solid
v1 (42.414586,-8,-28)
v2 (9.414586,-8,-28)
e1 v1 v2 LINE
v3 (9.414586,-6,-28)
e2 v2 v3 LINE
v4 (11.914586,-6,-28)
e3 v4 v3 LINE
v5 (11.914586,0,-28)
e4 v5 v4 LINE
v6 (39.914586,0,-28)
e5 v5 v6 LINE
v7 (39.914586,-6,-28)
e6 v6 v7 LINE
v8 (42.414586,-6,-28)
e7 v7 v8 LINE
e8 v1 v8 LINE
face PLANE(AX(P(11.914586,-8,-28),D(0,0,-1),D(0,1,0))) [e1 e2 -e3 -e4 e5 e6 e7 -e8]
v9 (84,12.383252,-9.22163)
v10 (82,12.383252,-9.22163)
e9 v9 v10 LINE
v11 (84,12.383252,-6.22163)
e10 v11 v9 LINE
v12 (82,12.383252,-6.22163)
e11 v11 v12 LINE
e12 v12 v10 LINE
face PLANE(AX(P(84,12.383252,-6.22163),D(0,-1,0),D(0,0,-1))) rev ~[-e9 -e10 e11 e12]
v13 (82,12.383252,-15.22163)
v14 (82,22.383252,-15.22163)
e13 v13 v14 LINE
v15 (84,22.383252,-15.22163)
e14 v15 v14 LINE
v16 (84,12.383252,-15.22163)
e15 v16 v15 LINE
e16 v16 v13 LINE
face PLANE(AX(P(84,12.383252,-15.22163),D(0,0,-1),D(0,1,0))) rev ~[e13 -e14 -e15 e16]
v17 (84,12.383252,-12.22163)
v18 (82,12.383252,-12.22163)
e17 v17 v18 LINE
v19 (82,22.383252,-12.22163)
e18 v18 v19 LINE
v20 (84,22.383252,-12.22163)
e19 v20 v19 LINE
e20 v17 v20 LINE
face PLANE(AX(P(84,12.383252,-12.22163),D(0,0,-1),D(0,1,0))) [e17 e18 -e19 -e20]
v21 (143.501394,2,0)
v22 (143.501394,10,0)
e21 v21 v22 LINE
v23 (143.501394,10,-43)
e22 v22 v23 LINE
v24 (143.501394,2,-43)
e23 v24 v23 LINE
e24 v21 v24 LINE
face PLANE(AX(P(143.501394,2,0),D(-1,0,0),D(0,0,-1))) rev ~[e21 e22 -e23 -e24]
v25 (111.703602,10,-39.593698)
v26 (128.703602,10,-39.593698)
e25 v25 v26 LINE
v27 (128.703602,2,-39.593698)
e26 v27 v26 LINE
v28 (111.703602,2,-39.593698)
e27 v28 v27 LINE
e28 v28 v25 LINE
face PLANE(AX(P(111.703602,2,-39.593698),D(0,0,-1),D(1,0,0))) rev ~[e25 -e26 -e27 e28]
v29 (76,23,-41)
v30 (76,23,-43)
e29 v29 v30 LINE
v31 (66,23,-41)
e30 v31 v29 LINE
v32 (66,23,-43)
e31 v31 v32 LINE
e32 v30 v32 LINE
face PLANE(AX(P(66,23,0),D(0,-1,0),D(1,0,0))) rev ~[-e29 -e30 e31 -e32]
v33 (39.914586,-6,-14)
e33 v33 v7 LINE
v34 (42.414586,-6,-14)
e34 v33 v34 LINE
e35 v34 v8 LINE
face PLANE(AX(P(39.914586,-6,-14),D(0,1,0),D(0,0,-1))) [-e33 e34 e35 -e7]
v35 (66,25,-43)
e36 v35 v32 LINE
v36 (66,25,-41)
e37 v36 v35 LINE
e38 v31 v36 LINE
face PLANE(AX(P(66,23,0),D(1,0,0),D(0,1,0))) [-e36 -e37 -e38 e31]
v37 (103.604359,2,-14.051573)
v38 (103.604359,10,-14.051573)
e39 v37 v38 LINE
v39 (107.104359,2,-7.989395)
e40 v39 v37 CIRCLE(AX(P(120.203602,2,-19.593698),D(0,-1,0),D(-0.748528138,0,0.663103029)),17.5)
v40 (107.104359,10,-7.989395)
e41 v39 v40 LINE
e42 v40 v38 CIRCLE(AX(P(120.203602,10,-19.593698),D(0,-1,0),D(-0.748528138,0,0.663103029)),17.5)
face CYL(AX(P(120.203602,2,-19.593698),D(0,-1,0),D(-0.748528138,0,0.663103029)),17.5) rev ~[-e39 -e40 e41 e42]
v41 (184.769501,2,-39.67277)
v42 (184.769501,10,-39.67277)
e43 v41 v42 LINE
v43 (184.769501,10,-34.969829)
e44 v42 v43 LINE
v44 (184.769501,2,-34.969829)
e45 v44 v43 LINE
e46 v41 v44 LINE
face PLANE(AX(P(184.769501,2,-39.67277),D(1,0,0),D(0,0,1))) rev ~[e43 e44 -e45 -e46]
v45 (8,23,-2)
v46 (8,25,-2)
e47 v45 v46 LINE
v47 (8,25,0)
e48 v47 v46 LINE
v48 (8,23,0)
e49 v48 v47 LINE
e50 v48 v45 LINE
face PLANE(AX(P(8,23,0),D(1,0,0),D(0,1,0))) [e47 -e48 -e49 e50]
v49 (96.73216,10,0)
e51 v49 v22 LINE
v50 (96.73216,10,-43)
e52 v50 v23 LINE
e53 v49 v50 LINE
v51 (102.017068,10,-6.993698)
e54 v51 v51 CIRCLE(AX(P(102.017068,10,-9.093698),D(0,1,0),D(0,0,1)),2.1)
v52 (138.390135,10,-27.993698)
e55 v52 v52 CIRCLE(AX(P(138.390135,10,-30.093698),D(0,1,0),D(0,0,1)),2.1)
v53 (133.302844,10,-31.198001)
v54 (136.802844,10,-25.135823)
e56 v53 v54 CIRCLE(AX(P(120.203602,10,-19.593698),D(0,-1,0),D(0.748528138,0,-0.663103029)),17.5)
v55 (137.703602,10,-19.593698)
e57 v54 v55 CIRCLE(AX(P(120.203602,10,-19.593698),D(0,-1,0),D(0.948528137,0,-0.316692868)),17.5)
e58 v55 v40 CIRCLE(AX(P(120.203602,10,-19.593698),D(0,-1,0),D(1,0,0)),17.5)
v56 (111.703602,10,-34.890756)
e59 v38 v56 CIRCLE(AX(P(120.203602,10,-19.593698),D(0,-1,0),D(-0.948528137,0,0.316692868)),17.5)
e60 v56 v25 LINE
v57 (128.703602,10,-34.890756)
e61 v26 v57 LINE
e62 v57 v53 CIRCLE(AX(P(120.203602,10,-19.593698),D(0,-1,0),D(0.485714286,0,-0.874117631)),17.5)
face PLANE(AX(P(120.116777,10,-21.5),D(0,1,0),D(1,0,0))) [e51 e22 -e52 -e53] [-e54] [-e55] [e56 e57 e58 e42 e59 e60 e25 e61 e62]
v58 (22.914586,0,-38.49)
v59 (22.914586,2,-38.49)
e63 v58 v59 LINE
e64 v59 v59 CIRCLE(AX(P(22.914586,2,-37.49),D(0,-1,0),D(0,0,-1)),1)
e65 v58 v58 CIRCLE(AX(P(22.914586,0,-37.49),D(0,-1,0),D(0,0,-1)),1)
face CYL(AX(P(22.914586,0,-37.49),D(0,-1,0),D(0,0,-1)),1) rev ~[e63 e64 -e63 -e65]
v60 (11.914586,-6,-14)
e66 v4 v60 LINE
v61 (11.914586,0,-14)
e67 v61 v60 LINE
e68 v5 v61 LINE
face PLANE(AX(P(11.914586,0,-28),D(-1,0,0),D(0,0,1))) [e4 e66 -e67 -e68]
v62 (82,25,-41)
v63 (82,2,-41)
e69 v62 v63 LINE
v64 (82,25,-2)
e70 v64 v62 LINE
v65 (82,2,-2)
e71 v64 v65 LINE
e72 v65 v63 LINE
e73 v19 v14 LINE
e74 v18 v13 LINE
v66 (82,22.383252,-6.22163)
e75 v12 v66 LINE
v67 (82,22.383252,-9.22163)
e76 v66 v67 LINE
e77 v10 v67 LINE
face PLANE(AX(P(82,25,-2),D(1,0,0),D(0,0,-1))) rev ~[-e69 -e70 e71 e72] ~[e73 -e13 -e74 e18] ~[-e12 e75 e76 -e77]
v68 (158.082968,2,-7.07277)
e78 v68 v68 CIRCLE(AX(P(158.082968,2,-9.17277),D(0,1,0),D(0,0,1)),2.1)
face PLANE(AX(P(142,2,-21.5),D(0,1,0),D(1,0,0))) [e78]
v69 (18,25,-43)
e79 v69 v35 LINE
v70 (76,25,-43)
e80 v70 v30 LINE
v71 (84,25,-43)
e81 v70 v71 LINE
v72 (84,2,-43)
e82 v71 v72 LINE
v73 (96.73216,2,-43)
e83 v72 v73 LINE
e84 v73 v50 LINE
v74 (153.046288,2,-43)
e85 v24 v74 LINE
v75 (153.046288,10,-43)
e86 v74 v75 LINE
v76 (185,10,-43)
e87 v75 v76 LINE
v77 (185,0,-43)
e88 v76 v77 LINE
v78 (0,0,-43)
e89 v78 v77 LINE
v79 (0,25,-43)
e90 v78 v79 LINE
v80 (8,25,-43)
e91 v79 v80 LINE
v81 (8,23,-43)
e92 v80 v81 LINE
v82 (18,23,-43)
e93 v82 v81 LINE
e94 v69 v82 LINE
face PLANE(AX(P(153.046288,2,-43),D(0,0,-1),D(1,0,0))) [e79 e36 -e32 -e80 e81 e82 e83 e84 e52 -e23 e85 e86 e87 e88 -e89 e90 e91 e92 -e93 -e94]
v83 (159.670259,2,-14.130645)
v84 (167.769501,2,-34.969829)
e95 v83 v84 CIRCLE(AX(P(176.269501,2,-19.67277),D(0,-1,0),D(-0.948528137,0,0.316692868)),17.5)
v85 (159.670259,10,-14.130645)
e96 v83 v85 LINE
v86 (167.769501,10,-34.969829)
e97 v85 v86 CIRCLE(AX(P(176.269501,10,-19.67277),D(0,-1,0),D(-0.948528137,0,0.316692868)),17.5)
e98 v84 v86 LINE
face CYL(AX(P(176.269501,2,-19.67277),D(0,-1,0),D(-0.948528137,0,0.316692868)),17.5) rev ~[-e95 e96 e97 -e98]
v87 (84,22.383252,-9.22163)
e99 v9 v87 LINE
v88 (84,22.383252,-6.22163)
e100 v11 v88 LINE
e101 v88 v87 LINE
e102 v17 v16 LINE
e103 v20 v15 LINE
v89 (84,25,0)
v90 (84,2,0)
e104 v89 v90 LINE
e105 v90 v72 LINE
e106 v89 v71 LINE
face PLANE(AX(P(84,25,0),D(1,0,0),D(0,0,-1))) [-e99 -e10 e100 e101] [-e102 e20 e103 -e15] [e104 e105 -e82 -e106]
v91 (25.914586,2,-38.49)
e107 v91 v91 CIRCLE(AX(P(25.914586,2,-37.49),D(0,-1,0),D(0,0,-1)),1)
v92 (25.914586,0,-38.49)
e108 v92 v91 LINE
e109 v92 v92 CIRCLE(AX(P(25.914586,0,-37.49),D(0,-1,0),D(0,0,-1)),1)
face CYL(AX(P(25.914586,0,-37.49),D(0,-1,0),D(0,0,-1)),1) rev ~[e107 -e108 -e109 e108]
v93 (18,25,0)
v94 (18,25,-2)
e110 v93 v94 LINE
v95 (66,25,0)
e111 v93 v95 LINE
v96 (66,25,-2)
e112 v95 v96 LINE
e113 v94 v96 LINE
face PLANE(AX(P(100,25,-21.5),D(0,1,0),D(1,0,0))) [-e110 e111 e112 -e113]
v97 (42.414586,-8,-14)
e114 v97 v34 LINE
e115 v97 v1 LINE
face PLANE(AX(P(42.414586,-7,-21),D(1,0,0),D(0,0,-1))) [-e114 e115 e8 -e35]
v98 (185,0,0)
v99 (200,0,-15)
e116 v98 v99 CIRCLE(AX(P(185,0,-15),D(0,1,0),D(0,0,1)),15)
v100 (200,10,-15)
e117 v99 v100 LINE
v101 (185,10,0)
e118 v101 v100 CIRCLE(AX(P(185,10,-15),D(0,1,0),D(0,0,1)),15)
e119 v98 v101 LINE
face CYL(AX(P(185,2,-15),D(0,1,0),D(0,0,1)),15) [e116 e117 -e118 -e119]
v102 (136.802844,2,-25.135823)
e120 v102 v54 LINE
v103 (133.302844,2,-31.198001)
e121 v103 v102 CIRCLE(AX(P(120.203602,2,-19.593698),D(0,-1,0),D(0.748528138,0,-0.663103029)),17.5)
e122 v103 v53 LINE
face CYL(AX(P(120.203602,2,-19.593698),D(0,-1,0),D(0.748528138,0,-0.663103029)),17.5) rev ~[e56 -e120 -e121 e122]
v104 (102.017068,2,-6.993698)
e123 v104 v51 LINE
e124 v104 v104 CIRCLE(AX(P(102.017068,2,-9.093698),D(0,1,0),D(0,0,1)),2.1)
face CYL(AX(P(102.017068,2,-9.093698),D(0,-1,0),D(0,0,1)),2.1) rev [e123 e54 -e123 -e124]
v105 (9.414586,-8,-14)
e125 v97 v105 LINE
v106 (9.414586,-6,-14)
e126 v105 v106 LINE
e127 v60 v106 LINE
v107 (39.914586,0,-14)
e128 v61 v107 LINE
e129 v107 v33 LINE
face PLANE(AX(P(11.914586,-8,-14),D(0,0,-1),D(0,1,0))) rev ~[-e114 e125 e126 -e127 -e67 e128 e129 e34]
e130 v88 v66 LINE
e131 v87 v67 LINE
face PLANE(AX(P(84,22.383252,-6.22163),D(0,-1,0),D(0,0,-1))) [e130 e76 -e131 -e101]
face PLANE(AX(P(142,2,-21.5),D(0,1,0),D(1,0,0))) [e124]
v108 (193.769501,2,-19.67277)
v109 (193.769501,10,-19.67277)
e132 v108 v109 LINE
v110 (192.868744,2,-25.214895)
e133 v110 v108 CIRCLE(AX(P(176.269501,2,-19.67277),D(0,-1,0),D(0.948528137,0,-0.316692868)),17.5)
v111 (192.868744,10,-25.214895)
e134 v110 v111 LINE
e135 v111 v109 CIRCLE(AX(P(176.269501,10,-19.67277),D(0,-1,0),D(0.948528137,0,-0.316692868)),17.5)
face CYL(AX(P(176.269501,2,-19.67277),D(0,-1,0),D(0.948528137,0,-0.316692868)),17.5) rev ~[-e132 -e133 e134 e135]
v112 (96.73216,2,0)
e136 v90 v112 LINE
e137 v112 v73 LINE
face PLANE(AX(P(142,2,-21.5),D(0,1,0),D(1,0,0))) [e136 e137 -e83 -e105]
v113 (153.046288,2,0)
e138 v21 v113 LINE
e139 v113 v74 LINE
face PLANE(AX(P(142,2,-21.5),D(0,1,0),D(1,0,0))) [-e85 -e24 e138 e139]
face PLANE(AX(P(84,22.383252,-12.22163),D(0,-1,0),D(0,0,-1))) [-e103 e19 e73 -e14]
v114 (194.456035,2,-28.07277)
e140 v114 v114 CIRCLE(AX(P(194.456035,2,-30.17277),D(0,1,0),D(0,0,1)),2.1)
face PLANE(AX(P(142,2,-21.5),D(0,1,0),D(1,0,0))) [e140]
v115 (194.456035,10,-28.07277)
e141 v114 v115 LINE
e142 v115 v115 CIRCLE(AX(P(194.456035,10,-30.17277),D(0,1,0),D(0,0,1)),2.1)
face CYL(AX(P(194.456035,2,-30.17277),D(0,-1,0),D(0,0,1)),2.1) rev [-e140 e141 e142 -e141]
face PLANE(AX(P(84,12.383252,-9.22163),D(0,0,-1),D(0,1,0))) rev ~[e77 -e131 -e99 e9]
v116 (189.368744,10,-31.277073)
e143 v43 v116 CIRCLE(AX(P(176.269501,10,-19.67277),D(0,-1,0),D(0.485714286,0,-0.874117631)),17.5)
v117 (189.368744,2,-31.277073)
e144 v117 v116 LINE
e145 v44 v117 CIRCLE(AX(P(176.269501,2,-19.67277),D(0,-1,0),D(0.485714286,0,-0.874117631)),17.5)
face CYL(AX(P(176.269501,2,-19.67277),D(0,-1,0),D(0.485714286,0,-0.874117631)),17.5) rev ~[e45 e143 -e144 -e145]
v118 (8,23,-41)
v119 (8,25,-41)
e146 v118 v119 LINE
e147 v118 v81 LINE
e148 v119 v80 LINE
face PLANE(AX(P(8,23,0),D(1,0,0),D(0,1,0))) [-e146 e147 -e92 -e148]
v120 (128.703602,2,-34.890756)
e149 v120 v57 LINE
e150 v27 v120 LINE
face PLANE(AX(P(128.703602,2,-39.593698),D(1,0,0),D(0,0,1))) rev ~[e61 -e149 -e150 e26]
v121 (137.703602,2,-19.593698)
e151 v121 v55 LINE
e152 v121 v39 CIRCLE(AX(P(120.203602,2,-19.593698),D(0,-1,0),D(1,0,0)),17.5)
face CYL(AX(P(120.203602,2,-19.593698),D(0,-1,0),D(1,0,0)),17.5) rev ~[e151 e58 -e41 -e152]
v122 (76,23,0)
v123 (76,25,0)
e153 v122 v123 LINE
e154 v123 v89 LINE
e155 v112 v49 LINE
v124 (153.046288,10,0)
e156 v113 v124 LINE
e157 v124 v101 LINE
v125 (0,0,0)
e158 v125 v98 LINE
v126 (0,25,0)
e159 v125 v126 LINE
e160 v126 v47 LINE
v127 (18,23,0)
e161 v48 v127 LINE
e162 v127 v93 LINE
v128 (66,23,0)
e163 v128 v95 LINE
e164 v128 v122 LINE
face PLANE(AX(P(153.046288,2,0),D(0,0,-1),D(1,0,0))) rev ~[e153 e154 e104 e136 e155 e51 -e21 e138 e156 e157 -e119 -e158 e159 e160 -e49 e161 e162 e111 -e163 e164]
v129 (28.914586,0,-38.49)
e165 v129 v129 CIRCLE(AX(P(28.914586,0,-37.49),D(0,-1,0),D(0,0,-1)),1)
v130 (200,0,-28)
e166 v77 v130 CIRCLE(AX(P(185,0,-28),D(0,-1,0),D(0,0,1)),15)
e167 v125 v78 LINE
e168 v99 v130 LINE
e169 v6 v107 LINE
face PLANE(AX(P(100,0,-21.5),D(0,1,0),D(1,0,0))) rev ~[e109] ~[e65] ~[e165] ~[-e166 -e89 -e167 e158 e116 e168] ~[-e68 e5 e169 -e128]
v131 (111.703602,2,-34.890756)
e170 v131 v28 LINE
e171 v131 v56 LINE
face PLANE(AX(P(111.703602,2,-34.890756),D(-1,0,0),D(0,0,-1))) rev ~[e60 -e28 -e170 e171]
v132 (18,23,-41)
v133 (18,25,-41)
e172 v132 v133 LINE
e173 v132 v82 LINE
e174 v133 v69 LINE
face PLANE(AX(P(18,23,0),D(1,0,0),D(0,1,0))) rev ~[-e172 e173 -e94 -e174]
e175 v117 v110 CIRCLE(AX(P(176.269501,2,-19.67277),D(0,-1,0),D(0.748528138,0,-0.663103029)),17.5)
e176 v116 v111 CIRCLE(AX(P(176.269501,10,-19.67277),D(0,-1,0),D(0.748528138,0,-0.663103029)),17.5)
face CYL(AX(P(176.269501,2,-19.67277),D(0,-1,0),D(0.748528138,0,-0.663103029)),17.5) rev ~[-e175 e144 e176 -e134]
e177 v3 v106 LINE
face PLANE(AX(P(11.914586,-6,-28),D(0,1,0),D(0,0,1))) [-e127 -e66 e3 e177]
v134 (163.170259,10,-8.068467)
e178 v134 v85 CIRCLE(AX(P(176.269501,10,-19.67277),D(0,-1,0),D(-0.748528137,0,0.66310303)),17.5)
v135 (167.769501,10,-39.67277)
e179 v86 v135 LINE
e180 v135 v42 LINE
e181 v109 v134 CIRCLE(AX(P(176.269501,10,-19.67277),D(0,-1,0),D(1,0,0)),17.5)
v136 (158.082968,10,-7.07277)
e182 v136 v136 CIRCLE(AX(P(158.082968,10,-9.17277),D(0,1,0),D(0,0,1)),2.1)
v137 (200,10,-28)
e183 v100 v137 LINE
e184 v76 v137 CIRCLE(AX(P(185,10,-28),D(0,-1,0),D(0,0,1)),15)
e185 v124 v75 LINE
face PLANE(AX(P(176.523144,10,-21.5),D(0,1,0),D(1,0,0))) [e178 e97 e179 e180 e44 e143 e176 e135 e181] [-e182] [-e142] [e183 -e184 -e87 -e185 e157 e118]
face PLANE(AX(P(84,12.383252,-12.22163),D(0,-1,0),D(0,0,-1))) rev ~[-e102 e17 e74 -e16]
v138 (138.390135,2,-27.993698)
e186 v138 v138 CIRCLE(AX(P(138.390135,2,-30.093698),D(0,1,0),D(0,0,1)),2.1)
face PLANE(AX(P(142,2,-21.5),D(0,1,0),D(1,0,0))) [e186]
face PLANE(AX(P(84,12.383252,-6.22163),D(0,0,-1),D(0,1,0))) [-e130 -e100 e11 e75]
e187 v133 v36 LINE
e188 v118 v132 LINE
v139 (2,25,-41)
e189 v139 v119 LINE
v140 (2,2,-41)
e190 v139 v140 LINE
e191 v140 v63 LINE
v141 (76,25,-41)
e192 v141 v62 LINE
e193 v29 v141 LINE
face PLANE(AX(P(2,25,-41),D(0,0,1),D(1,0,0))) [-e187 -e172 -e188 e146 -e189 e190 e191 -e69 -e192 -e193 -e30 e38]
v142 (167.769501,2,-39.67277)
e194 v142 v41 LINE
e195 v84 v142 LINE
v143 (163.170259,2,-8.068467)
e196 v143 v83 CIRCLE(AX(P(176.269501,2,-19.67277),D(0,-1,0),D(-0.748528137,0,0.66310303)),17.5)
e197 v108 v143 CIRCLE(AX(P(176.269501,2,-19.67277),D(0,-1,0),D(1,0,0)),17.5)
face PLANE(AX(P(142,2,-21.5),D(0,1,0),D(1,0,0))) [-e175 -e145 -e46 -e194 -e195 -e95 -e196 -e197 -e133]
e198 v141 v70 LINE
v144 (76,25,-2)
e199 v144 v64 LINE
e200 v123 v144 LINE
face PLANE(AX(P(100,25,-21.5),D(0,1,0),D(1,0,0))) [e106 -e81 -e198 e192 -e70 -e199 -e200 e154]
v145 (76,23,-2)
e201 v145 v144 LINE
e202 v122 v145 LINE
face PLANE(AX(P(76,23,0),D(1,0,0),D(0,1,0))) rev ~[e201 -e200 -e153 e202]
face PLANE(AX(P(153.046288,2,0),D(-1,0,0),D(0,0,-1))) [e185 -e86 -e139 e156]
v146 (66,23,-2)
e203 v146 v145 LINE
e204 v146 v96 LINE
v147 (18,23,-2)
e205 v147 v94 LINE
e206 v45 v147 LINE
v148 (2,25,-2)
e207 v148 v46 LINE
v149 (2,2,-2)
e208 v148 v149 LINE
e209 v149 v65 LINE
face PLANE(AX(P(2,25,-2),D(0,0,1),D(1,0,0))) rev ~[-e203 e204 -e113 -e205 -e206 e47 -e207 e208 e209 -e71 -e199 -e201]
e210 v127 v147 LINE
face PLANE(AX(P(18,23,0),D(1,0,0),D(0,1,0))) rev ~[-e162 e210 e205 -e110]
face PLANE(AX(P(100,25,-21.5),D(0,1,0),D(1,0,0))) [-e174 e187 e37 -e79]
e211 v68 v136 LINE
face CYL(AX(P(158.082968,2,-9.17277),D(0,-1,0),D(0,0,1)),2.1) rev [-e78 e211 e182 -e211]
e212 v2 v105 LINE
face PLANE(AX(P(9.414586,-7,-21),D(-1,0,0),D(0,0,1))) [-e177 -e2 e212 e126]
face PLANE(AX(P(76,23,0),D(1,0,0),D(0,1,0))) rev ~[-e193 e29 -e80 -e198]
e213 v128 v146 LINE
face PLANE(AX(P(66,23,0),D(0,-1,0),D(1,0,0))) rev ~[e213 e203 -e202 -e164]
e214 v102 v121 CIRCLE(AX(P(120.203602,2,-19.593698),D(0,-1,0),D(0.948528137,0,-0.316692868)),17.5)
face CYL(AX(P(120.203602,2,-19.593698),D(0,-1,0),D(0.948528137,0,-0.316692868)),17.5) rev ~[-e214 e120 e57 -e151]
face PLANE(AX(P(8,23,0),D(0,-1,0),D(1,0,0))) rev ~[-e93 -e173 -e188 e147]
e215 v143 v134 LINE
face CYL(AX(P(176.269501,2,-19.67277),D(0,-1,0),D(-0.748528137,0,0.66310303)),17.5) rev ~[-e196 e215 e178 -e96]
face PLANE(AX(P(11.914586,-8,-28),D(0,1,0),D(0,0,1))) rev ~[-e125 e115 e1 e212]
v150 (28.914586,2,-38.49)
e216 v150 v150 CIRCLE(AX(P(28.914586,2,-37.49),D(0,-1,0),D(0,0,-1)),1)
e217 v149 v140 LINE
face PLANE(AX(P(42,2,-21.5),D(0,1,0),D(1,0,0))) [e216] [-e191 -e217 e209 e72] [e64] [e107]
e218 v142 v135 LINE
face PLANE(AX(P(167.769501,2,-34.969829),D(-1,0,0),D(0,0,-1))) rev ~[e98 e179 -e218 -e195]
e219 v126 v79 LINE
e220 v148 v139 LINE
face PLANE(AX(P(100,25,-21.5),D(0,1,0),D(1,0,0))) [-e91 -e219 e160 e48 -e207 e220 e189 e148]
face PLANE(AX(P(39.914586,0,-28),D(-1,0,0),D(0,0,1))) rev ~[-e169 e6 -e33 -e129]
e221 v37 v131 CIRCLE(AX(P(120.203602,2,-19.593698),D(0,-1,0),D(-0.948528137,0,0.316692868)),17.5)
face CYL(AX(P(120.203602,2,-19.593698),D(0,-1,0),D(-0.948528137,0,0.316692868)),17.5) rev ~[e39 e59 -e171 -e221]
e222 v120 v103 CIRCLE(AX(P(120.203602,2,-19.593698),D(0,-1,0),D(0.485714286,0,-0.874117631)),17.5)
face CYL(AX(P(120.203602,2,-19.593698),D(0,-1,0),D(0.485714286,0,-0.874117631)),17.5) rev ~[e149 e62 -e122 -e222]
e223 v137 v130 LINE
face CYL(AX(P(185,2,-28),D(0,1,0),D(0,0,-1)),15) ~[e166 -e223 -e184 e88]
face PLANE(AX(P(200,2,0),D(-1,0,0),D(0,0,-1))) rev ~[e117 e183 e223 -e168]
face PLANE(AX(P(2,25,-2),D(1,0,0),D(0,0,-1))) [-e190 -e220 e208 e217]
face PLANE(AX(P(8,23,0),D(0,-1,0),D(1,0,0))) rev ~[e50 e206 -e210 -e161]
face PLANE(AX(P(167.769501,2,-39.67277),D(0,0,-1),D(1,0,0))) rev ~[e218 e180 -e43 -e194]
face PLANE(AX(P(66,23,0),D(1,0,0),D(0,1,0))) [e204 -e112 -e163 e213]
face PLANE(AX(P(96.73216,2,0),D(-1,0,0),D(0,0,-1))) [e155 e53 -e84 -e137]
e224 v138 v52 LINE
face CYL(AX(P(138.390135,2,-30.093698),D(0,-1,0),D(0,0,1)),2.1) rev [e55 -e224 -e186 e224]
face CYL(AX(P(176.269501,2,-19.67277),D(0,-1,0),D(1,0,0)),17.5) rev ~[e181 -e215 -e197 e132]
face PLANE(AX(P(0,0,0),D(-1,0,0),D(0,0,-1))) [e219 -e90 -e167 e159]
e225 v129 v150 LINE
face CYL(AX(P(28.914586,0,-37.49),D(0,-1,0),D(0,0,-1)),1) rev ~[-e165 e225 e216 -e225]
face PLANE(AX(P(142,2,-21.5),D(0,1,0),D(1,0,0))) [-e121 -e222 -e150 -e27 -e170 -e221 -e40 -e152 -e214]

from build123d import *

# Parameters (mm, degrees)
SKETCH1_W           = 200
SKETCH1_H           = 43
BOSS_EXTRUDE1_DEPTH = 25
SKETCH2_W           = 80
SKETCH2_H           = 39
CUT_EXTRUDE1_DEPTH  = 23
SKETCH3_W           = 28
SKETCH3_H           = 14
BOSS_EXTRUDE2_DEPTH = 8
SKETCH4_W           = 14
SKETCH4_H           = 2
BOSS_EXTRUDE3_DEPTH = 2.5
SKETCH5_W           = 14
SKETCH5_H           = 2
BOSS_EXTRUDE4_DEPTH = 2.5
SKETCH6_R           = 1
CUT_EXTRUDE2_DEPTH  = 2
SKETCH7_W           = 116
SKETCH7_H           = 43
CUT_EXTRUDE3_DEPTH  = 23
SKETCH8_W           = 46.953712071
SKETCH8_H           = 43
SKETCH8_R           = 2.1
BOSS_EXTRUDE6_DEPTH = 8
SKETCH9_W           = 10
SKETCH9_H           = 2
CUT_EXTRUDE4_DEPTH  = 61
SKETCH10_W          = 46.769233888
SKETCH10_H          = 43
SKETCH10_R          = 2.1
BOSS_EXTRUDE7_DEPTH = 8
SKETCH11_W          = 3
SKETCH11_H          = 10
CUT_EXTRUDE5_DEPTH  = 8
FILLET1_R           = 15
FILLET2_R           = 15


with BuildPart() as part:
    # Sketch1 → Boss-Extrude1 (new body)
    with BuildSketch(Plane(origin=(0, 0, 0), x_dir=(1, 0, 0), z_dir=(0, 1, 0))):
        with Locations((100, 21.5)):
            Rectangle(SKETCH1_W, SKETCH1_H)
    extrude(amount=BOSS_EXTRUDE1_DEPTH)

    # Sketch2 → Cut-Extrude1 (cut)
    with BuildSketch(Plane(origin=(0, 25, 0), x_dir=(1, 0, 0), z_dir=(0, 1, 0))):
        with Locations((42, 21.5)):
            Rectangle(SKETCH2_W, SKETCH2_H)
    extrude(amount=-CUT_EXTRUDE1_DEPTH, mode=Mode.SUBTRACT)

    # Sketch3 → Boss-Extrude2 (add)
    with BuildSketch(Plane.XZ):
        with Locations((25.914586037, -21)):
            Rectangle(SKETCH3_W, SKETCH3_H)
    extrude(amount=BOSS_EXTRUDE2_DEPTH)

    # Sketch4 → Boss-Extrude3 (add)
    with BuildSketch(Plane(origin=(39.914586037, 0, 0), x_dir=(0, 0, -1), z_dir=(1, 0, 0))):
        with Locations((21, -7)):
            Rectangle(SKETCH4_W, SKETCH4_H)
    extrude(amount=BOSS_EXTRUDE3_DEPTH)

    # Sketch5 → Boss-Extrude4 (add)
    with BuildSketch(Plane.ZY.offset(-11.914586037)):
        with Locations((-21, -7)):
            Rectangle(SKETCH5_W, SKETCH5_H)
    extrude(amount=BOSS_EXTRUDE4_DEPTH)

    # Sketch6 → Cut-Extrude2 (cut)
    with BuildSketch(Plane.XZ):
        with Locations(Location((25.914586037, -37.49, 0), (0, 0, 270))):
            Circle(SKETCH6_R)
        with Locations(Location((28.914586037, -37.49, 0), (0, 0, 270))):
            Circle(SKETCH6_R)
        with Locations(Location((22.914586037, -37.49, 0), (0, 0, 270))):
            Circle(SKETCH6_R)
    extrude(amount=-CUT_EXTRUDE2_DEPTH, mode=Mode.SUBTRACT)

    # Sketch7 → Cut-Extrude3 (cut)
    with BuildSketch(Plane(origin=(0, 25, 0), x_dir=(1, 0, 0), z_dir=(0, 1, 0))):
        with Locations((142, 21.5)):
            Rectangle(SKETCH7_W, SKETCH7_H)
    extrude(amount=-CUT_EXTRUDE3_DEPTH, mode=Mode.SUBTRACT)

    # Sketch8 → Boss-Extrude6 (add)
    with BuildSketch(Plane(origin=(0, 2, 0), x_dir=(1, 0, 0), z_dir=(0, 1, 0))):
        with Locations((176.523143965, 21.5)):
            Rectangle(SKETCH8_W, SKETCH8_H)
        with BuildLine():
            Line((167.769501391, 39.672770255), (184.769501391, 39.672770255))
            Line((184.769501391, 39.672770255), (184.769501391, 34.969828795))
            ThreePointArc((184.769501391, 34.969828795), (187.225820525, 33.318614715), (189.368743796, 31.277073268))
            Line((189.368743796, 31.277073268), (192.70603487, 33.203859168))
            ThreePointArc((192.70603487, 33.203859168), (197.487123783, 31.922770255), (196.20603487, 27.141681341))
            Line((196.20603487, 27.141681341), (192.868743796, 25.214895441))
            ThreePointArc((192.868743796, 25.214895441), (193.542844178, 22.480194155), (193.769501391, 19.672770255))
            ThreePointArc((193.769501391, 19.672770255), (182.474872367, 3.309904642), (163.170258986, 8.068467242))
            Line((163.170258986, 8.068467242), (159.832967911, 6.141681341))
            ThreePointArc((159.832967911, 6.141681341), (155.051878998, 7.422770255), (156.332967911, 12.203859168))
            Line((156.332967911, 12.203859168), (159.670258986, 14.130645068))
            ThreePointArc((159.670258986, 14.130645068), (159.958128459, 26.012258646), (167.769501391, 34.969828795))
            Line((167.769501391, 34.969828795), (167.769501391, 39.672770255))
        make_face(mode=Mode.SUBTRACT)
        with BuildLine():
            Line((192.70603487, 33.203859168), (189.368743796, 31.277073268))
            ThreePointArc((189.368743796, 31.277073268), (191.424945957, 28.422770255), (192.868743796, 25.214895441))
            Line((192.868743796, 25.214895441), (196.20603487, 27.141681341))
            ThreePointArc((196.20603487, 27.141681341), (197.487123783, 31.922770255), (192.70603487, 33.203859168))
        make_face()
        with Locations(Location((194.45603487, 30.172770255, 0), (0, 0, 270))):
            Circle(SKETCH8_R, mode=Mode.SUBTRACT)
        with BuildLine():
            ThreePointArc((163.170258986, 8.068467242), (161.114056824, 10.922770255), (159.670258986, 14.130645068))
            Line((159.670258986, 14.130645068), (156.332967911, 12.203859168))
            ThreePointArc((156.332967911, 12.203859168), (155.051878998, 7.422770255), (159.832967911, 6.141681341))
            Line((159.832967911, 6.141681341), (163.170258986, 8.068467242))
        make_face()
        with Locations(Location((158.082967911, 9.172770255, 0), (0, 0, 270))):
            Circle(SKETCH8_R, mode=Mode.SUBTRACT)
    extrude(amount=BOSS_EXTRUDE6_DEPTH)

    # Sketch9 → Cut-Extrude4 (cut)
    with BuildSketch(Plane.XY):
        with Locations((13, 24)):
            Rectangle(SKETCH9_W, SKETCH9_H)
        with Locations((71, 24)):
            Rectangle(SKETCH9_W, SKETCH9_H)
    extrude(amount=-CUT_EXTRUDE4_DEPTH, mode=Mode.SUBTRACT)

    # Sketch10 → Boss-Extrude7 (add)
    with BuildSketch(Plane(origin=(0, 2, 0), x_dir=(1, 0, 0), z_dir=(0, 1, 0))):
        with Locations((120.116777129, 21.5)):
            Rectangle(SKETCH10_W, SKETCH10_H)
        with BuildLine():
            Line((111.703601521, 39.593697937), (128.703601521, 39.593697937))
            Line((128.703601521, 39.593697937), (128.703601521, 34.890756478))
            ThreePointArc((128.703601521, 34.890756478), (131.159920655, 33.239542397), (133.302843926, 31.19800095))
            Line((133.302843926, 31.19800095), (136.640135, 33.12478685))
            ThreePointArc((136.640135, 33.12478685), (141.421223914, 31.843697937), (140.140135, 27.062609024))
            Line((140.140135, 27.062609024), (136.802843926, 25.135823124))
            ThreePointArc((136.802843926, 25.135823124), (137.476944308, 22.401121838), (137.703601521, 19.593697937))
            ThreePointArc((137.703601521, 19.593697937), (126.408972497, 3.230832325), (107.104359116, 7.989394924))
            Line((107.104359116, 7.989394924), (103.767068041, 6.062609024))
            ThreePointArc((103.767068041, 6.062609024), (98.985979128, 7.343697937), (100.267068041, 12.12478685))
            Line((100.267068041, 12.12478685), (103.604359116, 14.051572751))
            ThreePointArc((103.604359116, 14.051572751), (103.892228589, 25.933186329), (111.703601521, 34.890756478))
            Line((111.703601521, 34.890756478), (111.703601521, 39.593697937))
        make_face(mode=Mode.SUBTRACT)
        with BuildLine():
            Line((136.640135, 33.12478685), (133.302843926, 31.19800095))
            ThreePointArc((133.302843926, 31.19800095), (135.359046087, 28.343697937), (136.802843926, 25.135823124))
            Line((136.802843926, 25.135823124), (140.140135, 27.062609024))
            ThreePointArc((140.140135, 27.062609024), (141.421223914, 31.843697937), (136.640135, 33.12478685))
        make_face()
        with Locations(Location((138.390135, 30.093697937, 0), (0, 0, 270))):
            Circle(SKETCH10_R, mode=Mode.SUBTRACT)
        with BuildLine():
            ThreePointArc((107.104359116, 7.989394924), (105.048156955, 10.843697937), (103.604359116, 14.051572751))
            Line((103.604359116, 14.051572751), (100.267068041, 12.12478685))
            ThreePointArc((100.267068041, 12.12478685), (98.985979128, 7.343697937), (103.767068041, 6.062609024))
            Line((103.767068041, 6.062609024), (107.104359116, 7.989394924))
        make_face()
        with Locations(Location((102.017068041, 9.093697937, 0), (0, 0, 270))):
            Circle(SKETCH10_R, mode=Mode.SUBTRACT)
    extrude(amount=BOSS_EXTRUDE7_DEPTH)

    # Sketch11 → Cut-Extrude5 (cut)
    with BuildSketch(Plane(origin=(84, 0, 0), x_dir=(0, 0, -1), z_dir=(1, 0, 0))):
        with Locations((13.721629554, 17.383252488)):
            Rectangle(SKETCH11_W, SKETCH11_H)
        with Locations((7.721629554, 17.383252488)):
            Rectangle(SKETCH11_W, SKETCH11_H)
    extrude(amount=-CUT_EXTRUDE5_DEPTH, mode=Mode.SUBTRACT)

    # Fillet1
    fillet1_edges = [part.edges().sort_by_distance(p)[0] for p in [
        (200, 5, 0),
    ]]
    fillet(fillet1_edges, radius=FILLET1_R)

    # Fillet2
    fillet2_edges = [part.edges().sort_by_distance(p)[0] for p in [
        (200, 5, -43),
    ]]
    fillet(fillet2_edges, radius=FILLET2_R)


solid = part.part
